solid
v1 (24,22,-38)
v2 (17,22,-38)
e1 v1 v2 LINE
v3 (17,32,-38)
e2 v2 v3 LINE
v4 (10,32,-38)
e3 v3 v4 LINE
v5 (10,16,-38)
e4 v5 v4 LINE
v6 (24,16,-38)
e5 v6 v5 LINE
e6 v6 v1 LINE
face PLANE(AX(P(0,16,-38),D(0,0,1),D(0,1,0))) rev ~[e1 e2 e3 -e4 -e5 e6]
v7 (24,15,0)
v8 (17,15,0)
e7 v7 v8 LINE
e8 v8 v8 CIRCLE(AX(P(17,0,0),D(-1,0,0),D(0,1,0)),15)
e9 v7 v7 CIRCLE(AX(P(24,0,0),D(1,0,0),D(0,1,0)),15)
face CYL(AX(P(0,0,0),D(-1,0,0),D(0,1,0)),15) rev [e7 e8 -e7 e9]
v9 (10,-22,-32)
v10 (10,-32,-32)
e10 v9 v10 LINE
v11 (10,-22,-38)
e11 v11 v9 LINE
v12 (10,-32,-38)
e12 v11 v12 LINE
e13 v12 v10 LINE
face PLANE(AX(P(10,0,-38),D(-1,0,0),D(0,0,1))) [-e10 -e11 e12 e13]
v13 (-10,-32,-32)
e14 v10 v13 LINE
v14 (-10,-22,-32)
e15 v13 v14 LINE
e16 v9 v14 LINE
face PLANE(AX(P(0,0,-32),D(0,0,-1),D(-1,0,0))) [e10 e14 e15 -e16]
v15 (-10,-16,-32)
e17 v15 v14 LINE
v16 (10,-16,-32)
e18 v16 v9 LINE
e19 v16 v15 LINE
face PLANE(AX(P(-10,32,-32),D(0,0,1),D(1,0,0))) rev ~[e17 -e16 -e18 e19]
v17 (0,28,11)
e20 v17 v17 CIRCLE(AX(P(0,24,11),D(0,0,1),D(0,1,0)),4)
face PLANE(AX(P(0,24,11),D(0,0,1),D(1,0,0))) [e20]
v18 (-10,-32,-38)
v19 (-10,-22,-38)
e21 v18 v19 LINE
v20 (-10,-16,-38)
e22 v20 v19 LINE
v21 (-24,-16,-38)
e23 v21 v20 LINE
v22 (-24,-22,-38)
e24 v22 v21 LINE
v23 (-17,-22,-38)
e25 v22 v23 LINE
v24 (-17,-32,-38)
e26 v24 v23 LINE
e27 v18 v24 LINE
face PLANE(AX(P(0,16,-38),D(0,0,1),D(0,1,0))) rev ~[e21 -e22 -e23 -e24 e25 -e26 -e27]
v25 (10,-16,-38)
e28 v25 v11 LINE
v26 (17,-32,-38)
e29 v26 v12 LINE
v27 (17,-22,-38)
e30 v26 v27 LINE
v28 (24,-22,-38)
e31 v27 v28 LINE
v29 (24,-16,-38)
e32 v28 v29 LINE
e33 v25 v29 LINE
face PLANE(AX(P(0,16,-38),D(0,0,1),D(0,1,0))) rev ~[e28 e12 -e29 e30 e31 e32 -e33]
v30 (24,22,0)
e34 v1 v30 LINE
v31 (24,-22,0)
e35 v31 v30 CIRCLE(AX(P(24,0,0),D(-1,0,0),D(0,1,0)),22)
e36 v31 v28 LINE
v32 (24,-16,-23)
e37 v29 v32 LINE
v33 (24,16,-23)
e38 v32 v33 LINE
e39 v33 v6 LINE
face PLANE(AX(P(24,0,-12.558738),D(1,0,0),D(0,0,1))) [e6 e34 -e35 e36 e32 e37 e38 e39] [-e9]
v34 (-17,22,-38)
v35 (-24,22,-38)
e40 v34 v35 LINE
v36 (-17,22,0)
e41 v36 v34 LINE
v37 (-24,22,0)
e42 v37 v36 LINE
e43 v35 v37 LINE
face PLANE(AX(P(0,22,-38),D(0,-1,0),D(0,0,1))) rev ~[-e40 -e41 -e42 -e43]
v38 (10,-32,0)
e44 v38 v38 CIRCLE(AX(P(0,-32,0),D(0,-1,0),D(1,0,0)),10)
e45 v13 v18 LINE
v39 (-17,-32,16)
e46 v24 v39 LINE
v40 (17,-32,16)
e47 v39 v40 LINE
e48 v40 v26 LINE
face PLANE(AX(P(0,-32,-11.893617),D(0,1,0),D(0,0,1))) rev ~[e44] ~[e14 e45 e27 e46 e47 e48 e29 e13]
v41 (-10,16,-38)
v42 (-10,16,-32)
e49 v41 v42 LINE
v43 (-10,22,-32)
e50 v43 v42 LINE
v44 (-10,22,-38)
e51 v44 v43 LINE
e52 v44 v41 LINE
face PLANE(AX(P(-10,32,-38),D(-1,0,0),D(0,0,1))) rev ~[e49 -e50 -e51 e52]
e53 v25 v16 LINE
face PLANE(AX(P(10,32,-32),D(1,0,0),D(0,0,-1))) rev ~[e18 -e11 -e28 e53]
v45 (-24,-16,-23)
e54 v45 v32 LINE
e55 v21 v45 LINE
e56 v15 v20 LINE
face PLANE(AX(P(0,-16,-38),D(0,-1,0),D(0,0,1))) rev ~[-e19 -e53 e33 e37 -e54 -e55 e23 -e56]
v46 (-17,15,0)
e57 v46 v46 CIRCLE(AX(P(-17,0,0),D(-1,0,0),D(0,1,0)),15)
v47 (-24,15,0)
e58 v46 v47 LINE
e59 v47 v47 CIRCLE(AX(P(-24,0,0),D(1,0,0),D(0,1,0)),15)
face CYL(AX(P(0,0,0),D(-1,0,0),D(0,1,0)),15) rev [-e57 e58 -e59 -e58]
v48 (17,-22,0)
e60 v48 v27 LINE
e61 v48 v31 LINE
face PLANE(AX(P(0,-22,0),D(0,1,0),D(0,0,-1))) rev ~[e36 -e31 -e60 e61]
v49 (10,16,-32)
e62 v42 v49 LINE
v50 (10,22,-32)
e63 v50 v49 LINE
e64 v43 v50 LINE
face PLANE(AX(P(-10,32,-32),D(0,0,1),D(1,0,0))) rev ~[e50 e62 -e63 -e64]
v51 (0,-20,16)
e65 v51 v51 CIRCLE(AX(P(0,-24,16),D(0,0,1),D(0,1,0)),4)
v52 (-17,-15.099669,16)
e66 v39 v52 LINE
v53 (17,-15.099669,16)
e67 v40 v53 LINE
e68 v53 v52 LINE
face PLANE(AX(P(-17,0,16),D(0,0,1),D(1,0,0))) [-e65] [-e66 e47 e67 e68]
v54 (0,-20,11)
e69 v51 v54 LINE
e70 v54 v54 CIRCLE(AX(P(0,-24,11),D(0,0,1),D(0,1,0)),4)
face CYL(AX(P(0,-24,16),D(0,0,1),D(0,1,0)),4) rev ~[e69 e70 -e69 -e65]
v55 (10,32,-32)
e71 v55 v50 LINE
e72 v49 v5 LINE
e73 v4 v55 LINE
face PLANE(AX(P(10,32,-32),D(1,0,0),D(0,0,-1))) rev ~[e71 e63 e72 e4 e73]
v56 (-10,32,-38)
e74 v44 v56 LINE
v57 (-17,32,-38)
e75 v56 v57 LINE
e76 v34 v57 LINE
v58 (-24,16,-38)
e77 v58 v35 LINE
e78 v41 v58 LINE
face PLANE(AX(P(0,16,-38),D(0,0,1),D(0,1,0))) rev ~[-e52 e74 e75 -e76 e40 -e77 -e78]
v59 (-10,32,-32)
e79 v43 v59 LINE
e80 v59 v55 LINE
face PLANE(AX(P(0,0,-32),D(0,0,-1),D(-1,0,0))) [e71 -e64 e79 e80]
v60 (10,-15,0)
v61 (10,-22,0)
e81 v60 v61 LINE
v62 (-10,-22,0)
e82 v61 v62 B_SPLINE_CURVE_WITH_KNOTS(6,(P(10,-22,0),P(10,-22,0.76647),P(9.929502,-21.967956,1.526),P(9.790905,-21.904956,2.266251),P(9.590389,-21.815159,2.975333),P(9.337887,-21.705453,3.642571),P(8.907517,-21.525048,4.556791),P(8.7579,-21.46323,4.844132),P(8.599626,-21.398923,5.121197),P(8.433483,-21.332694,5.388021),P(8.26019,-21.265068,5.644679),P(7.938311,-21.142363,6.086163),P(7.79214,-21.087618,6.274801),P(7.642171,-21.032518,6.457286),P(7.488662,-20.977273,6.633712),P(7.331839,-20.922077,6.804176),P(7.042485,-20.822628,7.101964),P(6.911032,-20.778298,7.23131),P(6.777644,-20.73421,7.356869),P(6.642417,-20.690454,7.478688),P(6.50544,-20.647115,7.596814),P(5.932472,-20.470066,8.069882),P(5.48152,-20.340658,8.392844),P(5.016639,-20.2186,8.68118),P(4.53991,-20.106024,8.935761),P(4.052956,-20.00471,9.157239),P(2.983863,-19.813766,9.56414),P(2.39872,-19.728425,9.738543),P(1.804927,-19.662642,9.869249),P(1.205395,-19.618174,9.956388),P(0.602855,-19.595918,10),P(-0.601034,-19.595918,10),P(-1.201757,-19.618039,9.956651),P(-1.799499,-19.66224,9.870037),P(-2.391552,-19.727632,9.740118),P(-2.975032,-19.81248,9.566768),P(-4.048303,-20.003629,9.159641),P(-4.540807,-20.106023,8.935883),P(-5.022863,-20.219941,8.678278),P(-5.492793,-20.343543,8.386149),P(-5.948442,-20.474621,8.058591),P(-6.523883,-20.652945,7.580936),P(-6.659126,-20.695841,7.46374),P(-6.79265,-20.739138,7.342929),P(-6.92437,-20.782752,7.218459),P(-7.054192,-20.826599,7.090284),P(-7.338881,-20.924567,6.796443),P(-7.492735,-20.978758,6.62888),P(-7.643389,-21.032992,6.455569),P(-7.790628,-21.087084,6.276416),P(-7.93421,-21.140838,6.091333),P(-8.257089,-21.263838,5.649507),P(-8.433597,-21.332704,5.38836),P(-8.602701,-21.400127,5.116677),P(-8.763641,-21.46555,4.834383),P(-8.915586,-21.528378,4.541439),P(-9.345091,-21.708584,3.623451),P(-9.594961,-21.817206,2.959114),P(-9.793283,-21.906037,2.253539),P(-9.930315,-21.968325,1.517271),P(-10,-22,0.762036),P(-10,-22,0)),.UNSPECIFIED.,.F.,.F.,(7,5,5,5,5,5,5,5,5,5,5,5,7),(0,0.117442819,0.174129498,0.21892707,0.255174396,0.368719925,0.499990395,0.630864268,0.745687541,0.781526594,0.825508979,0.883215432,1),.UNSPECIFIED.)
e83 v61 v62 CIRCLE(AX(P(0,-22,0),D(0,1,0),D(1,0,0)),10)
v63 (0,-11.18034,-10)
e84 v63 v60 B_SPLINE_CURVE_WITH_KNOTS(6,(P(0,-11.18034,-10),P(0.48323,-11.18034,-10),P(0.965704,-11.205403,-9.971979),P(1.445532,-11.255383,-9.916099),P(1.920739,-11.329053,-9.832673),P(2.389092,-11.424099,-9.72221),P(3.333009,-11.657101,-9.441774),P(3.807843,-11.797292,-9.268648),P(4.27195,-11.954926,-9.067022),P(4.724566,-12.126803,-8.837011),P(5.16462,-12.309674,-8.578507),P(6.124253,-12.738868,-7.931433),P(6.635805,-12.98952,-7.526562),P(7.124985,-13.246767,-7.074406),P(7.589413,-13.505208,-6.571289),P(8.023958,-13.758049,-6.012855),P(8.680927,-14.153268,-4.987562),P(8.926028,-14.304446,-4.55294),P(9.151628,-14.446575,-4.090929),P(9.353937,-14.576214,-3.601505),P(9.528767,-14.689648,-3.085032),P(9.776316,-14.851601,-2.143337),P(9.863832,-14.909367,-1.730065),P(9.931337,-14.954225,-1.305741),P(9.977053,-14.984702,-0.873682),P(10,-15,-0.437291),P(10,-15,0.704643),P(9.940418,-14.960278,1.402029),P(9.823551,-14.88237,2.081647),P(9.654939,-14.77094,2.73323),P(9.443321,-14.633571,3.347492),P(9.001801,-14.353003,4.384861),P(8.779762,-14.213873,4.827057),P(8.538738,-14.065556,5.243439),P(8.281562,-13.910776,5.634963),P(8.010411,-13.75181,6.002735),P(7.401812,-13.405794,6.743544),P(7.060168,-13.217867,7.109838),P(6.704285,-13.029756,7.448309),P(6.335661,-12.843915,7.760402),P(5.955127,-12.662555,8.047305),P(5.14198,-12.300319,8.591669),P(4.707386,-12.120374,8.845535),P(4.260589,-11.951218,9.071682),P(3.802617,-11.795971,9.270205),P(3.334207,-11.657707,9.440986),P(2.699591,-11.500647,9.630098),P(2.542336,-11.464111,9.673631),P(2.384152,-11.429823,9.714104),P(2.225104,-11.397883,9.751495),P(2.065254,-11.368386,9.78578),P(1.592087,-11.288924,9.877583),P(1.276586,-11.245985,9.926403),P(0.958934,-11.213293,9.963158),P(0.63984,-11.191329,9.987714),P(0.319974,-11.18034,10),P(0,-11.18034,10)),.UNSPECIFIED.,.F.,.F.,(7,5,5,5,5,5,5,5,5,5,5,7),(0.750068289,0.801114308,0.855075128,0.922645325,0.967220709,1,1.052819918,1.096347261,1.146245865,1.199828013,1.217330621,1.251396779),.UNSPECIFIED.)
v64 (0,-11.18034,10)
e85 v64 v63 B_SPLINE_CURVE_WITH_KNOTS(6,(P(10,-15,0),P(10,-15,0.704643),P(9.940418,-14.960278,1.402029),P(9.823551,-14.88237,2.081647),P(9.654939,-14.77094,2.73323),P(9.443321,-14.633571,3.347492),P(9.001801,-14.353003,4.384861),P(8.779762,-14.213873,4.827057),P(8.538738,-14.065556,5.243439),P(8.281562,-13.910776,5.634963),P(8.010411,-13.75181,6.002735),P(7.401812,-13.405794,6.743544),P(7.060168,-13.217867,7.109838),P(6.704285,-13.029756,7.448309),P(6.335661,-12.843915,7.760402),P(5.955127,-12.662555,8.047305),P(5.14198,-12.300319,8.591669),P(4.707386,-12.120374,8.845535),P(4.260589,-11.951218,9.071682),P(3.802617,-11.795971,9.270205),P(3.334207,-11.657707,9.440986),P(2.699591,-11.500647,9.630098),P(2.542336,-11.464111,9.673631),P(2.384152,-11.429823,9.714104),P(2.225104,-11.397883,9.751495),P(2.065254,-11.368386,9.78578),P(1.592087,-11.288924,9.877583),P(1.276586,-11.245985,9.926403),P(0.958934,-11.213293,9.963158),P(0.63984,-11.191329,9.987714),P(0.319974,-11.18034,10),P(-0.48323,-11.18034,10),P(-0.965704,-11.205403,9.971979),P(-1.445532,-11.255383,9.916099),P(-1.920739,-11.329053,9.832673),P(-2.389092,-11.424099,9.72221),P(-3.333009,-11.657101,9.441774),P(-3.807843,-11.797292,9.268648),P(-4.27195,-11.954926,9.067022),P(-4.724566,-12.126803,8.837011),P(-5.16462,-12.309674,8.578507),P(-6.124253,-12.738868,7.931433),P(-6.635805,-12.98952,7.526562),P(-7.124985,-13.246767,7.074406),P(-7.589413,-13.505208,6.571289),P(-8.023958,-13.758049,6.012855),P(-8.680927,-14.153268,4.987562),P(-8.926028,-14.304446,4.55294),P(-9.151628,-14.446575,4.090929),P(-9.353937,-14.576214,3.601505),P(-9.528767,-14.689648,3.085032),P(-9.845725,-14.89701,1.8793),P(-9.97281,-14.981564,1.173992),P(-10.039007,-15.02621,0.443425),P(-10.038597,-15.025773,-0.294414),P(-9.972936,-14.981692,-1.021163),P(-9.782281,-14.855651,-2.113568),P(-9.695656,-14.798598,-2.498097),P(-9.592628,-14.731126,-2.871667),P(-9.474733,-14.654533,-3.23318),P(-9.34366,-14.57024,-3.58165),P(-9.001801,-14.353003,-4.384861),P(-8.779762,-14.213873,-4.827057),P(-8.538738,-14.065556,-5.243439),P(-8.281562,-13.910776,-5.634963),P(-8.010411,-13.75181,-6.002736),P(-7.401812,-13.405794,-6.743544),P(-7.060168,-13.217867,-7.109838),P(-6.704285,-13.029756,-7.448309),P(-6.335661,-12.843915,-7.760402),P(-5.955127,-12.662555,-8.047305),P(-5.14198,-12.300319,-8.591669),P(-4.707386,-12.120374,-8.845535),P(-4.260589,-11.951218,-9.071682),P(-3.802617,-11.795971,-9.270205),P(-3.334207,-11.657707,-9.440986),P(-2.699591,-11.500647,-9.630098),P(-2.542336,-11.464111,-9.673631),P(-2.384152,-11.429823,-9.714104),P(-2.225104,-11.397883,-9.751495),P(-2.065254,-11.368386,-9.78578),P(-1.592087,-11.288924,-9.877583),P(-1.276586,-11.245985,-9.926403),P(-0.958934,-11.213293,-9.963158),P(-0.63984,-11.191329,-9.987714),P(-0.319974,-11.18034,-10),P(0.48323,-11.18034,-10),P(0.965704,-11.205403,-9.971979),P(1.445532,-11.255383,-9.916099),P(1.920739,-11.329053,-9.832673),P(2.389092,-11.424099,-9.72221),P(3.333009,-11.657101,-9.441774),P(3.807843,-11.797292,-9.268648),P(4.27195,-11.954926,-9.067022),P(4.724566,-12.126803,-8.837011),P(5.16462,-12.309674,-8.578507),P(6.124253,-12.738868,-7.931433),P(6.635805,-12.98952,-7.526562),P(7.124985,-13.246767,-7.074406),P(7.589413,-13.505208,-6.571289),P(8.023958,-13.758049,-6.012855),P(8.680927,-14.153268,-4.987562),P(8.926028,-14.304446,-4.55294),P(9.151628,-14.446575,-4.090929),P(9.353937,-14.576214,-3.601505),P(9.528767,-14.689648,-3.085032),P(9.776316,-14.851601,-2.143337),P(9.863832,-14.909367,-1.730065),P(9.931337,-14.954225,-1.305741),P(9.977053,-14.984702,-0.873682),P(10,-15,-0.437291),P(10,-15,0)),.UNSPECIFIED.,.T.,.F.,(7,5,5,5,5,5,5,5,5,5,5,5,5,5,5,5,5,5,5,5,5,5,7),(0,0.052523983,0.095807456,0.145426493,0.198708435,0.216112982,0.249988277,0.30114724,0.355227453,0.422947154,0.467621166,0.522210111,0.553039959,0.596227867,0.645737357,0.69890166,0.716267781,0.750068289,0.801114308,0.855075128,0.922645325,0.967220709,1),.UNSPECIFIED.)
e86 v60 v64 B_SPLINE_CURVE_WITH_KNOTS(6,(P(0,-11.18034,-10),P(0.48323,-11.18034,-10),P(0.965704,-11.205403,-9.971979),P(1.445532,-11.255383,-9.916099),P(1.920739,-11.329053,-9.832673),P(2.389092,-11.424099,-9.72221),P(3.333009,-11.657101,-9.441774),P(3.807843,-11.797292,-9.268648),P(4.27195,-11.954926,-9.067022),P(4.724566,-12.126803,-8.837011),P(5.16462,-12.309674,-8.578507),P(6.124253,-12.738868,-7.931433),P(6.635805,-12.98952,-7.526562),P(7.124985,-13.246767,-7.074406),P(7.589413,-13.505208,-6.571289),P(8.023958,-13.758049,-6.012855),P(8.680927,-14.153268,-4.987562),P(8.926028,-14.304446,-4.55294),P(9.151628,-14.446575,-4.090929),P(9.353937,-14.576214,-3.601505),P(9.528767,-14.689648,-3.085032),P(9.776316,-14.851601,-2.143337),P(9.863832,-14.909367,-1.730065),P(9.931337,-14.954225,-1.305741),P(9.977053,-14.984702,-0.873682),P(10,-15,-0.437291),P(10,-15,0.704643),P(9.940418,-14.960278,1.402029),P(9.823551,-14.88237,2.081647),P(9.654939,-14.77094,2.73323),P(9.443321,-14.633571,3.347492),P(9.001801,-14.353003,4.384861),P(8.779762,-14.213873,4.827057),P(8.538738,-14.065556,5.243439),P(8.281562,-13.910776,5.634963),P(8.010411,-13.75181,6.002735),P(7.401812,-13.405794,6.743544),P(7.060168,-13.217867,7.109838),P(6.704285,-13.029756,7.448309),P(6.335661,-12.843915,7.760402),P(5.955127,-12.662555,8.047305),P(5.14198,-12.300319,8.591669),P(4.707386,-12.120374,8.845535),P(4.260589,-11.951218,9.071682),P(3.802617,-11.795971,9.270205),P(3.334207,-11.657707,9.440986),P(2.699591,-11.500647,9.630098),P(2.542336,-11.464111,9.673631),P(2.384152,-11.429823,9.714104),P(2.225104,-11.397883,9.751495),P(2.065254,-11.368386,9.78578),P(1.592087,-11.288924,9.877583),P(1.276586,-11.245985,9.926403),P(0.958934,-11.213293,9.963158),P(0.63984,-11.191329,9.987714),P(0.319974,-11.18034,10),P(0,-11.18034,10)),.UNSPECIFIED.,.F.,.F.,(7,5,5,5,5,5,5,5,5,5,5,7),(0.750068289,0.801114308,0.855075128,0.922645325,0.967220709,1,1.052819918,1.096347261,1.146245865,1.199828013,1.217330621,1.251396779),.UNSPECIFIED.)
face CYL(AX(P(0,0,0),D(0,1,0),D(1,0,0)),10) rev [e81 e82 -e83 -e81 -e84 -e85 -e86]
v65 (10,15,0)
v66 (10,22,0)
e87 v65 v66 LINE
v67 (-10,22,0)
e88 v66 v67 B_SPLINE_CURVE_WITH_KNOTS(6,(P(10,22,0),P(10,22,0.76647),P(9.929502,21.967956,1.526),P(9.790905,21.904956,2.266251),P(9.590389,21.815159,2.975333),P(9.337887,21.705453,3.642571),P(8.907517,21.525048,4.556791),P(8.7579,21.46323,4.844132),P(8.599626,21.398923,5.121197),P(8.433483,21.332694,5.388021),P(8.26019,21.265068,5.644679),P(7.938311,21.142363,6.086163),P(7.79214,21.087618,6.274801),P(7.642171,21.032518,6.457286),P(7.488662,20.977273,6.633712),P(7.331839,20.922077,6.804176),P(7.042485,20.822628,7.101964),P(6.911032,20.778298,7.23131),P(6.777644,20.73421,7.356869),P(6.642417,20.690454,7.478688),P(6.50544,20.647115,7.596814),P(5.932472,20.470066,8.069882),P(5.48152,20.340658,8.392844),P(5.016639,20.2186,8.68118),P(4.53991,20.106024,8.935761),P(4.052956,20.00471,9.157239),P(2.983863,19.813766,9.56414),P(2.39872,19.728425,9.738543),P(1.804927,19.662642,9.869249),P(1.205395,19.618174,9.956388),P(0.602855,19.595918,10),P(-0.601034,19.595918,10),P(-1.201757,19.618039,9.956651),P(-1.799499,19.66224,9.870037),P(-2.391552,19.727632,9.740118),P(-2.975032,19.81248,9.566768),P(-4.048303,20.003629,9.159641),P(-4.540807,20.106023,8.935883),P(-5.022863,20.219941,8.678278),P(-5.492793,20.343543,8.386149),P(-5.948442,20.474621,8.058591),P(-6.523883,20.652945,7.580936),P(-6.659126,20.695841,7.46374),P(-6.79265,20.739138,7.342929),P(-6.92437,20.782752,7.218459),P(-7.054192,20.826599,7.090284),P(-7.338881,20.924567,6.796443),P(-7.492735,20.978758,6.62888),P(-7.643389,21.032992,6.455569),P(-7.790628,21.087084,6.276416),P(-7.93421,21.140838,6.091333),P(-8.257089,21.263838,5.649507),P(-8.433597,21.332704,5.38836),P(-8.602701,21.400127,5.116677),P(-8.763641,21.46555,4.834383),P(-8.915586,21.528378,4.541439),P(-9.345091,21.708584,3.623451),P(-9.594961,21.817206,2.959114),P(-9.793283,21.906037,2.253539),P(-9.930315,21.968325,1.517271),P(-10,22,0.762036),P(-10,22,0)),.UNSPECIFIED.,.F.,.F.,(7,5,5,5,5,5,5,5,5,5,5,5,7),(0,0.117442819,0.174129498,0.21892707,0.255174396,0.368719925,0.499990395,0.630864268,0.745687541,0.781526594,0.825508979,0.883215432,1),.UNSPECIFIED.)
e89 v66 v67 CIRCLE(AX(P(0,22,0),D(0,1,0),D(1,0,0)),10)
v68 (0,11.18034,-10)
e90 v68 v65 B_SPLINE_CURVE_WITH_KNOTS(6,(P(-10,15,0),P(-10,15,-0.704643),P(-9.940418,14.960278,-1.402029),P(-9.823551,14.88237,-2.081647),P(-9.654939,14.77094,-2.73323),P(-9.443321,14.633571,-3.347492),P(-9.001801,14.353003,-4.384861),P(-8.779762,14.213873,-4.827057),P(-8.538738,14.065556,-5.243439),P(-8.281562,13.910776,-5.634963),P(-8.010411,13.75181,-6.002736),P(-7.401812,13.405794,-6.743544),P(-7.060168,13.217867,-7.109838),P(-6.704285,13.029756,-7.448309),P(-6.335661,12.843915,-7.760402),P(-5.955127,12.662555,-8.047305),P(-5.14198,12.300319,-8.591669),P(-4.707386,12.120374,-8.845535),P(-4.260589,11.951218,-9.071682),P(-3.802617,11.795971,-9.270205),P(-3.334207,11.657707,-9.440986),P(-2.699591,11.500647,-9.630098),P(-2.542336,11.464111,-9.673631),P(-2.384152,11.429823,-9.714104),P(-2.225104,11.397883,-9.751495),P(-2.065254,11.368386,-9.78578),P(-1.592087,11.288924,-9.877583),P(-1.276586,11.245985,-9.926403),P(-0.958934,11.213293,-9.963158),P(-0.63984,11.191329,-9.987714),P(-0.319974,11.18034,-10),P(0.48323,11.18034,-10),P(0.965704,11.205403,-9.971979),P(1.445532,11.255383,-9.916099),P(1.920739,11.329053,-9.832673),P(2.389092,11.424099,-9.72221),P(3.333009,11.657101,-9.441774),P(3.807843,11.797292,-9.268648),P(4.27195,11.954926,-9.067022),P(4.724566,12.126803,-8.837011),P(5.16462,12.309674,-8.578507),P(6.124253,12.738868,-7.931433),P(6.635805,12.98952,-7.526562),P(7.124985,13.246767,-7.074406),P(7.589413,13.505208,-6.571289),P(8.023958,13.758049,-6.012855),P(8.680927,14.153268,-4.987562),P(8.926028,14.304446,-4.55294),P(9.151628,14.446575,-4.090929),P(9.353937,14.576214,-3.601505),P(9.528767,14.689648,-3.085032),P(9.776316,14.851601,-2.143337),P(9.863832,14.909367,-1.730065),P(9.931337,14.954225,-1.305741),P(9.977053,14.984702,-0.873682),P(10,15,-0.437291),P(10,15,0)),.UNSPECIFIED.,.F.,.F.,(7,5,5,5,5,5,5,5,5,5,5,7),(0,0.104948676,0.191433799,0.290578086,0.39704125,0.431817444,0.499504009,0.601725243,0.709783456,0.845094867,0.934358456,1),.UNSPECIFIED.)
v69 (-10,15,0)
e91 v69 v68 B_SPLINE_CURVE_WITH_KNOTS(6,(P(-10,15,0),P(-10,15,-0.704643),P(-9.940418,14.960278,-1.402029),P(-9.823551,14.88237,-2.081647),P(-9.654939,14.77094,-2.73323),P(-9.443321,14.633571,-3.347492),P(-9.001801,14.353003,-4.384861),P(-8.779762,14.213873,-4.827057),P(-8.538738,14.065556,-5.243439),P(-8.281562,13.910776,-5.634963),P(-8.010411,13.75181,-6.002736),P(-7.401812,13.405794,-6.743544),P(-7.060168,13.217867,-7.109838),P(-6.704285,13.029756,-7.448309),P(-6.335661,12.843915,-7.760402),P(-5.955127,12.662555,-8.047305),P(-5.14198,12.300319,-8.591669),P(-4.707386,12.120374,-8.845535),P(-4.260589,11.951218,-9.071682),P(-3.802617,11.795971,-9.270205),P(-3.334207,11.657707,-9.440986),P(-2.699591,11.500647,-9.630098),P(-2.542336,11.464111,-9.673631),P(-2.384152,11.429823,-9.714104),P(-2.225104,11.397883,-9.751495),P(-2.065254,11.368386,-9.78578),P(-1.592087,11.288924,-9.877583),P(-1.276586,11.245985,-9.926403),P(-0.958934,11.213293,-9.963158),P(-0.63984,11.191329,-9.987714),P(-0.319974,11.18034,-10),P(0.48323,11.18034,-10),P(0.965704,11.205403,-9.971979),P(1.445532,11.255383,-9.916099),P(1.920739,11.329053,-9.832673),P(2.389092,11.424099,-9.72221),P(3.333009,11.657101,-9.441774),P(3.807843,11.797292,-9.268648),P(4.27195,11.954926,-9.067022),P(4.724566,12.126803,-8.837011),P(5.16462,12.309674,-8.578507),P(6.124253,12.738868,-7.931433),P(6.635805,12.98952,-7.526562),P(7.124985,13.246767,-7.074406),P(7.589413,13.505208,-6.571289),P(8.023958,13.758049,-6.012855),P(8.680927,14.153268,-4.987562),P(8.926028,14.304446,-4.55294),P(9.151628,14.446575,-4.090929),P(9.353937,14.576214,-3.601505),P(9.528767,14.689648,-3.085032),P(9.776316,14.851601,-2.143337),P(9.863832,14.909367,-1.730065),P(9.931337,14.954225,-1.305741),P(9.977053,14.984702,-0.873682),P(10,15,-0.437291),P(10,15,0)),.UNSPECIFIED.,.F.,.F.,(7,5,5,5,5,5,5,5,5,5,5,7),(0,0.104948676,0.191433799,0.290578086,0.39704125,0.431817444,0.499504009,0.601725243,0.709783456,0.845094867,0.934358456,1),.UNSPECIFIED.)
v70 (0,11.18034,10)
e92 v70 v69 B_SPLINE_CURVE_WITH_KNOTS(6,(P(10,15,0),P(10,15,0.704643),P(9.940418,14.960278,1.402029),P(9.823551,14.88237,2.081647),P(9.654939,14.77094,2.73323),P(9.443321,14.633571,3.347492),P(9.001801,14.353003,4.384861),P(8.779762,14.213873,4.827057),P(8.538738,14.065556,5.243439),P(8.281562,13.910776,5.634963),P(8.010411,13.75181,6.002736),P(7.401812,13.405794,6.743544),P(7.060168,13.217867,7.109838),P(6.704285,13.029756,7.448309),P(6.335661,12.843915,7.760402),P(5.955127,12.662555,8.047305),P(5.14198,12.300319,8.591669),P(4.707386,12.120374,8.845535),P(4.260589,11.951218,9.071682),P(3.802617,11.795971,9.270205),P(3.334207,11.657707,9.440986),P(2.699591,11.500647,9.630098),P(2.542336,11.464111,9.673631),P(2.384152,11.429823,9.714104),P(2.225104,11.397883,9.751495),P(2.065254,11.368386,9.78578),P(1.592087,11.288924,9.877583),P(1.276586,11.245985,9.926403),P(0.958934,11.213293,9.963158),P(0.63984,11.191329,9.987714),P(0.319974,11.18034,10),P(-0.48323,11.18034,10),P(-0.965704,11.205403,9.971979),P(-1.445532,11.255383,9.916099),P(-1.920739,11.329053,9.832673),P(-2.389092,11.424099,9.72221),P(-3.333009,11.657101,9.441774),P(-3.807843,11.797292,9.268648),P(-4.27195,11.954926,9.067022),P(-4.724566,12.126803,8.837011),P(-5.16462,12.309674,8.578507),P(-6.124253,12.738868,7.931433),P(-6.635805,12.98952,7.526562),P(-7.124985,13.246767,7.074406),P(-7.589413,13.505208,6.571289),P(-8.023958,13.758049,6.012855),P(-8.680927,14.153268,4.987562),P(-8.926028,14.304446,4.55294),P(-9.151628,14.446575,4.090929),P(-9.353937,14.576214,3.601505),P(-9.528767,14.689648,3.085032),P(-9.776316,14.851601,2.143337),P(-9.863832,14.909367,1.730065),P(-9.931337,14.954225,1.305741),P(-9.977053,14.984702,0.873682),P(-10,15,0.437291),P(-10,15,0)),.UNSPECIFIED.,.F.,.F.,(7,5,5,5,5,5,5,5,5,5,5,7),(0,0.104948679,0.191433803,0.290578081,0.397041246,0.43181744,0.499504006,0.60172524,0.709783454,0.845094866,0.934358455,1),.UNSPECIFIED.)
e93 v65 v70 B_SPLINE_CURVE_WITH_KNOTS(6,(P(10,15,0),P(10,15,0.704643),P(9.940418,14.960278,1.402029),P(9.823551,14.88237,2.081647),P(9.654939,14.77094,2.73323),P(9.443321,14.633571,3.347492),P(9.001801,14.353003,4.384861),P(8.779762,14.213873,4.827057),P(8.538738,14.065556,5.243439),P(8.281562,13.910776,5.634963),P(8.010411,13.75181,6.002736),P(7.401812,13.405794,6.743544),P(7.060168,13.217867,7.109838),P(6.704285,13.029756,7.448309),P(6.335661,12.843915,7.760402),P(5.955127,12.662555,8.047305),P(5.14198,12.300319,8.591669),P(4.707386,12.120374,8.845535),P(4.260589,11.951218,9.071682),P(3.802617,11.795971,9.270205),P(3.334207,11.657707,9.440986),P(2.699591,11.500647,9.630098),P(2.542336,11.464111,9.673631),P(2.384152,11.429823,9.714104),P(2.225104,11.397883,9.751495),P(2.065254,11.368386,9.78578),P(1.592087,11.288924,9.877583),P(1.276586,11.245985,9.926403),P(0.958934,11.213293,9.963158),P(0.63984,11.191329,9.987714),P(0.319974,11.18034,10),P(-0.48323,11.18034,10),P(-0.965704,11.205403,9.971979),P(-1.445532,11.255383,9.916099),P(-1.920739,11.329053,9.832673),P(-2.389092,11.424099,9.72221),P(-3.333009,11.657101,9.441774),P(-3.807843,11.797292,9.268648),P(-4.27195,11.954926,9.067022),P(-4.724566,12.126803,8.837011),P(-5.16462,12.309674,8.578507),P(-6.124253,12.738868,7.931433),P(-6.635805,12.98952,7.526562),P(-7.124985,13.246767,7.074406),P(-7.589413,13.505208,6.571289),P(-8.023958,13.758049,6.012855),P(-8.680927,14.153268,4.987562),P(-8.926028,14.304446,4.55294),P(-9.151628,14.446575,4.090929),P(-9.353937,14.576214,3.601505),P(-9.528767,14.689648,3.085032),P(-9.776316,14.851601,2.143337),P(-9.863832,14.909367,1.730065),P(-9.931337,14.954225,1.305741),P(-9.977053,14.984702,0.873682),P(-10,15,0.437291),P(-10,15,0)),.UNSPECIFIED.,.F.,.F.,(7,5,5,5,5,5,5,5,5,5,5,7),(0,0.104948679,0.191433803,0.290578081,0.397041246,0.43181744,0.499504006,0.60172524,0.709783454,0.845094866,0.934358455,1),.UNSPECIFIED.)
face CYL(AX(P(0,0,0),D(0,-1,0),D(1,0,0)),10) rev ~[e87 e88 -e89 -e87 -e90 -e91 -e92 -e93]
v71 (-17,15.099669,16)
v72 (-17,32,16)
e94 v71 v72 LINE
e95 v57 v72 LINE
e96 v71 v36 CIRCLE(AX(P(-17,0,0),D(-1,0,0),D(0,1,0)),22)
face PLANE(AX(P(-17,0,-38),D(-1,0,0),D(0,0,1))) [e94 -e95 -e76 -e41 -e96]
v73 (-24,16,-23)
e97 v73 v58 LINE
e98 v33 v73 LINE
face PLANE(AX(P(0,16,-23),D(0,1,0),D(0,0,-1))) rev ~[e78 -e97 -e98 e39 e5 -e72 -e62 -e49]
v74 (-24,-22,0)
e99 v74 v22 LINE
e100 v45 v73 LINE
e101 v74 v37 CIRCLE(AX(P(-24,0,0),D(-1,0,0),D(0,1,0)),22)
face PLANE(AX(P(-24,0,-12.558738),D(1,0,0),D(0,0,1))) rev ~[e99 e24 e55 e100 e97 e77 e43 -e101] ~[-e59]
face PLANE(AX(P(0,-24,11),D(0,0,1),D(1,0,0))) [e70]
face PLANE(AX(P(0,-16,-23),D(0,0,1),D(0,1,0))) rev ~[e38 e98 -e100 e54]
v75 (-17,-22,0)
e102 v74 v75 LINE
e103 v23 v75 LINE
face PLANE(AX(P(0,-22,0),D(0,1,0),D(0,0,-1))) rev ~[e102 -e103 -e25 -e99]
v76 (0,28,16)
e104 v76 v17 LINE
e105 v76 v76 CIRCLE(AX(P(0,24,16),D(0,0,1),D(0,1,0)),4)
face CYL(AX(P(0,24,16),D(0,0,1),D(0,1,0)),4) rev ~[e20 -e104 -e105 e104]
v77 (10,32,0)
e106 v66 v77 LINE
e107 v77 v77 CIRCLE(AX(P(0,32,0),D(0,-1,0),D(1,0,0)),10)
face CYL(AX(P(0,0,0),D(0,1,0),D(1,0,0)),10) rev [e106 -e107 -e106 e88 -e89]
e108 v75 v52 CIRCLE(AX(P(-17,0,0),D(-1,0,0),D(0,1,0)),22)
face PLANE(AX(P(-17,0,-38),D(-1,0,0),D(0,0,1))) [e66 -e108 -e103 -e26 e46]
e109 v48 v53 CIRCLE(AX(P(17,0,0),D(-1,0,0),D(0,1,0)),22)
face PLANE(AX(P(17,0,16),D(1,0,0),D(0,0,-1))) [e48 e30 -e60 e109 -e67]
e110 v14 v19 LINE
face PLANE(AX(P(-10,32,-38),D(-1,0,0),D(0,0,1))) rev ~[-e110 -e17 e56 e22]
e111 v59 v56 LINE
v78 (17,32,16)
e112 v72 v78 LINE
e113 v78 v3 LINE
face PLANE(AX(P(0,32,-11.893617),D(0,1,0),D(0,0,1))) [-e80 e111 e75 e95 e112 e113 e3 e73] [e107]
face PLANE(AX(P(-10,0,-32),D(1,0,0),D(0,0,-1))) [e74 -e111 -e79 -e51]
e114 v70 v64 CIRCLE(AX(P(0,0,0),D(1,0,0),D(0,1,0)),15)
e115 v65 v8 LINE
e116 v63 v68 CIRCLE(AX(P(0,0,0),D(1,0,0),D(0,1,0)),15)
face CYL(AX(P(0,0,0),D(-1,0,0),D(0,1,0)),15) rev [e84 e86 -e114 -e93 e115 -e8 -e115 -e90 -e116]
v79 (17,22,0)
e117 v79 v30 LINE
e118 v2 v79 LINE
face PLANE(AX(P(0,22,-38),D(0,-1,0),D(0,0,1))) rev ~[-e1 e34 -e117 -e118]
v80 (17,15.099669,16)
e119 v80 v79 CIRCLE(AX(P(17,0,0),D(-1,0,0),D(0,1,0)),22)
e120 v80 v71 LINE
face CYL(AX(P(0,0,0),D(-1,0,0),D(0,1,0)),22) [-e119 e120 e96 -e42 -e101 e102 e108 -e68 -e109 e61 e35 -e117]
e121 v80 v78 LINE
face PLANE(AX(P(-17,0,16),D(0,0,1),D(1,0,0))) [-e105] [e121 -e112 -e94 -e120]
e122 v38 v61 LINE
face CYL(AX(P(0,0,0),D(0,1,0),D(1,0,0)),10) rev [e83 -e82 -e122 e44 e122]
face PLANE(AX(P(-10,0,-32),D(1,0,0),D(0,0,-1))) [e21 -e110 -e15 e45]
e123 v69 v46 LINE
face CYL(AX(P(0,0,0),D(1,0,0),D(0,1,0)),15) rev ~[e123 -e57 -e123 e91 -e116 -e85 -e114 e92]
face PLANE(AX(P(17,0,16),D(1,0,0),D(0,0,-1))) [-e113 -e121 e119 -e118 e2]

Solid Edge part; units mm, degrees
sketch "Sketch1" plane through (0, 0, 0) normal (1, 0, 0) x (0, 1, 0)
  line L0 (22, -38) -> (22, 0)
  line L1 (16, -38) -> (22, -38)
  line L2 (16, -23) -> (16, -38)
  line L3 (-16, -23) -> (16, -23)
  line L4 (-16, -38) -> (-16, -23)
  line L5 (-22, -38) -> (-16, -38)
  line L6 (-22, 0) -> (-22, -38)
  arc A0 (-22, 0) -> (22, 0) centre (0, 0) cw
  circle A1 centre (0, 0) radius 15
extrude "Protrusion1" add sketch "Sketch1" along normal mid plane 48
sketch "Sketch2" plane through (0, 0, 0) normal (0, -1, 0) x (1, 0, 0)
  line L0 (0, -32) -> (-10, -32)
  line L1 (-10, -32) -> (-10, -38)
  line L2 (-10, -38) -> (-17, -38)
  line L3 (-17, -38) -> (-17, 16)
  line L4 (-17, 16) -> (17, 16)
  line L5 (17, 16) -> (17, -38)
  line L6 (17, -38) -> (10, -38)
  line L7 (10, -38) -> (10, -32)
  line L8 (10, -32) -> (0, -32)
  circle A0 centre (0, 0) radius 10
extrude "ExtrudedProtrusion_3" add sketch "Sketch2" along normal mid plane 64
sketch "Sketch3" plane through (0, 0, 0) normal (1, 0, 0) x (0, 1, 0)
  circle A0 centre (0, 0) radius 15
extrude "ExtrudedCutout_1" cut sketch "Sketch3" along normal mid plane 64
sketch "Sketch4" plane through (0, 0, 0) normal (0, -1, 0) x (1, 0, 0)
  circle A0 centre (0, 0) radius 10
extrude "ExtrudedCutout_2" cut sketch "Sketch4" along normal mid plane 64
sketch "Sketch5" plane through (24, 0, -8) normal (1, 0, 0) x (0, 1, 0)
  line L0 (-16, -15) -> (16, -15)
  line L1 (16, -15) -> (16, -30)
  line L2 (16, -30) -> (-16, -30)
  line L3 (-16, -30) -> (-16, -15)
extrude "ExtrudedCutout_3" cut sketch "Sketch5" against normal blind 48
sketch "Sketch6" plane through (0, 32, -11) normal (0, 1, 0) x (0, 0, -1)
  line L0 (21, 10) -> (21, -10)
  line L1 (21, -10) -> (27, -10)
  line L2 (27, -10) -> (27, 10)
  line L3 (27, 10) -> (21, 10)
extrude "ExtrudedCutout_4" cut sketch "Sketch6" against normal blind 64
sketch "Sketch7" plane through (0, -23.5498, 16) normal (0, 0, 1) x (0, 1, 0)
  circle A0 centre (-0.4502, 0) radius 4
  circle A1 centre (47.5498, 0) radius 4
extrude "ExtrudedCutout_8" cut sketch "Sketch7" against normal blind 5
